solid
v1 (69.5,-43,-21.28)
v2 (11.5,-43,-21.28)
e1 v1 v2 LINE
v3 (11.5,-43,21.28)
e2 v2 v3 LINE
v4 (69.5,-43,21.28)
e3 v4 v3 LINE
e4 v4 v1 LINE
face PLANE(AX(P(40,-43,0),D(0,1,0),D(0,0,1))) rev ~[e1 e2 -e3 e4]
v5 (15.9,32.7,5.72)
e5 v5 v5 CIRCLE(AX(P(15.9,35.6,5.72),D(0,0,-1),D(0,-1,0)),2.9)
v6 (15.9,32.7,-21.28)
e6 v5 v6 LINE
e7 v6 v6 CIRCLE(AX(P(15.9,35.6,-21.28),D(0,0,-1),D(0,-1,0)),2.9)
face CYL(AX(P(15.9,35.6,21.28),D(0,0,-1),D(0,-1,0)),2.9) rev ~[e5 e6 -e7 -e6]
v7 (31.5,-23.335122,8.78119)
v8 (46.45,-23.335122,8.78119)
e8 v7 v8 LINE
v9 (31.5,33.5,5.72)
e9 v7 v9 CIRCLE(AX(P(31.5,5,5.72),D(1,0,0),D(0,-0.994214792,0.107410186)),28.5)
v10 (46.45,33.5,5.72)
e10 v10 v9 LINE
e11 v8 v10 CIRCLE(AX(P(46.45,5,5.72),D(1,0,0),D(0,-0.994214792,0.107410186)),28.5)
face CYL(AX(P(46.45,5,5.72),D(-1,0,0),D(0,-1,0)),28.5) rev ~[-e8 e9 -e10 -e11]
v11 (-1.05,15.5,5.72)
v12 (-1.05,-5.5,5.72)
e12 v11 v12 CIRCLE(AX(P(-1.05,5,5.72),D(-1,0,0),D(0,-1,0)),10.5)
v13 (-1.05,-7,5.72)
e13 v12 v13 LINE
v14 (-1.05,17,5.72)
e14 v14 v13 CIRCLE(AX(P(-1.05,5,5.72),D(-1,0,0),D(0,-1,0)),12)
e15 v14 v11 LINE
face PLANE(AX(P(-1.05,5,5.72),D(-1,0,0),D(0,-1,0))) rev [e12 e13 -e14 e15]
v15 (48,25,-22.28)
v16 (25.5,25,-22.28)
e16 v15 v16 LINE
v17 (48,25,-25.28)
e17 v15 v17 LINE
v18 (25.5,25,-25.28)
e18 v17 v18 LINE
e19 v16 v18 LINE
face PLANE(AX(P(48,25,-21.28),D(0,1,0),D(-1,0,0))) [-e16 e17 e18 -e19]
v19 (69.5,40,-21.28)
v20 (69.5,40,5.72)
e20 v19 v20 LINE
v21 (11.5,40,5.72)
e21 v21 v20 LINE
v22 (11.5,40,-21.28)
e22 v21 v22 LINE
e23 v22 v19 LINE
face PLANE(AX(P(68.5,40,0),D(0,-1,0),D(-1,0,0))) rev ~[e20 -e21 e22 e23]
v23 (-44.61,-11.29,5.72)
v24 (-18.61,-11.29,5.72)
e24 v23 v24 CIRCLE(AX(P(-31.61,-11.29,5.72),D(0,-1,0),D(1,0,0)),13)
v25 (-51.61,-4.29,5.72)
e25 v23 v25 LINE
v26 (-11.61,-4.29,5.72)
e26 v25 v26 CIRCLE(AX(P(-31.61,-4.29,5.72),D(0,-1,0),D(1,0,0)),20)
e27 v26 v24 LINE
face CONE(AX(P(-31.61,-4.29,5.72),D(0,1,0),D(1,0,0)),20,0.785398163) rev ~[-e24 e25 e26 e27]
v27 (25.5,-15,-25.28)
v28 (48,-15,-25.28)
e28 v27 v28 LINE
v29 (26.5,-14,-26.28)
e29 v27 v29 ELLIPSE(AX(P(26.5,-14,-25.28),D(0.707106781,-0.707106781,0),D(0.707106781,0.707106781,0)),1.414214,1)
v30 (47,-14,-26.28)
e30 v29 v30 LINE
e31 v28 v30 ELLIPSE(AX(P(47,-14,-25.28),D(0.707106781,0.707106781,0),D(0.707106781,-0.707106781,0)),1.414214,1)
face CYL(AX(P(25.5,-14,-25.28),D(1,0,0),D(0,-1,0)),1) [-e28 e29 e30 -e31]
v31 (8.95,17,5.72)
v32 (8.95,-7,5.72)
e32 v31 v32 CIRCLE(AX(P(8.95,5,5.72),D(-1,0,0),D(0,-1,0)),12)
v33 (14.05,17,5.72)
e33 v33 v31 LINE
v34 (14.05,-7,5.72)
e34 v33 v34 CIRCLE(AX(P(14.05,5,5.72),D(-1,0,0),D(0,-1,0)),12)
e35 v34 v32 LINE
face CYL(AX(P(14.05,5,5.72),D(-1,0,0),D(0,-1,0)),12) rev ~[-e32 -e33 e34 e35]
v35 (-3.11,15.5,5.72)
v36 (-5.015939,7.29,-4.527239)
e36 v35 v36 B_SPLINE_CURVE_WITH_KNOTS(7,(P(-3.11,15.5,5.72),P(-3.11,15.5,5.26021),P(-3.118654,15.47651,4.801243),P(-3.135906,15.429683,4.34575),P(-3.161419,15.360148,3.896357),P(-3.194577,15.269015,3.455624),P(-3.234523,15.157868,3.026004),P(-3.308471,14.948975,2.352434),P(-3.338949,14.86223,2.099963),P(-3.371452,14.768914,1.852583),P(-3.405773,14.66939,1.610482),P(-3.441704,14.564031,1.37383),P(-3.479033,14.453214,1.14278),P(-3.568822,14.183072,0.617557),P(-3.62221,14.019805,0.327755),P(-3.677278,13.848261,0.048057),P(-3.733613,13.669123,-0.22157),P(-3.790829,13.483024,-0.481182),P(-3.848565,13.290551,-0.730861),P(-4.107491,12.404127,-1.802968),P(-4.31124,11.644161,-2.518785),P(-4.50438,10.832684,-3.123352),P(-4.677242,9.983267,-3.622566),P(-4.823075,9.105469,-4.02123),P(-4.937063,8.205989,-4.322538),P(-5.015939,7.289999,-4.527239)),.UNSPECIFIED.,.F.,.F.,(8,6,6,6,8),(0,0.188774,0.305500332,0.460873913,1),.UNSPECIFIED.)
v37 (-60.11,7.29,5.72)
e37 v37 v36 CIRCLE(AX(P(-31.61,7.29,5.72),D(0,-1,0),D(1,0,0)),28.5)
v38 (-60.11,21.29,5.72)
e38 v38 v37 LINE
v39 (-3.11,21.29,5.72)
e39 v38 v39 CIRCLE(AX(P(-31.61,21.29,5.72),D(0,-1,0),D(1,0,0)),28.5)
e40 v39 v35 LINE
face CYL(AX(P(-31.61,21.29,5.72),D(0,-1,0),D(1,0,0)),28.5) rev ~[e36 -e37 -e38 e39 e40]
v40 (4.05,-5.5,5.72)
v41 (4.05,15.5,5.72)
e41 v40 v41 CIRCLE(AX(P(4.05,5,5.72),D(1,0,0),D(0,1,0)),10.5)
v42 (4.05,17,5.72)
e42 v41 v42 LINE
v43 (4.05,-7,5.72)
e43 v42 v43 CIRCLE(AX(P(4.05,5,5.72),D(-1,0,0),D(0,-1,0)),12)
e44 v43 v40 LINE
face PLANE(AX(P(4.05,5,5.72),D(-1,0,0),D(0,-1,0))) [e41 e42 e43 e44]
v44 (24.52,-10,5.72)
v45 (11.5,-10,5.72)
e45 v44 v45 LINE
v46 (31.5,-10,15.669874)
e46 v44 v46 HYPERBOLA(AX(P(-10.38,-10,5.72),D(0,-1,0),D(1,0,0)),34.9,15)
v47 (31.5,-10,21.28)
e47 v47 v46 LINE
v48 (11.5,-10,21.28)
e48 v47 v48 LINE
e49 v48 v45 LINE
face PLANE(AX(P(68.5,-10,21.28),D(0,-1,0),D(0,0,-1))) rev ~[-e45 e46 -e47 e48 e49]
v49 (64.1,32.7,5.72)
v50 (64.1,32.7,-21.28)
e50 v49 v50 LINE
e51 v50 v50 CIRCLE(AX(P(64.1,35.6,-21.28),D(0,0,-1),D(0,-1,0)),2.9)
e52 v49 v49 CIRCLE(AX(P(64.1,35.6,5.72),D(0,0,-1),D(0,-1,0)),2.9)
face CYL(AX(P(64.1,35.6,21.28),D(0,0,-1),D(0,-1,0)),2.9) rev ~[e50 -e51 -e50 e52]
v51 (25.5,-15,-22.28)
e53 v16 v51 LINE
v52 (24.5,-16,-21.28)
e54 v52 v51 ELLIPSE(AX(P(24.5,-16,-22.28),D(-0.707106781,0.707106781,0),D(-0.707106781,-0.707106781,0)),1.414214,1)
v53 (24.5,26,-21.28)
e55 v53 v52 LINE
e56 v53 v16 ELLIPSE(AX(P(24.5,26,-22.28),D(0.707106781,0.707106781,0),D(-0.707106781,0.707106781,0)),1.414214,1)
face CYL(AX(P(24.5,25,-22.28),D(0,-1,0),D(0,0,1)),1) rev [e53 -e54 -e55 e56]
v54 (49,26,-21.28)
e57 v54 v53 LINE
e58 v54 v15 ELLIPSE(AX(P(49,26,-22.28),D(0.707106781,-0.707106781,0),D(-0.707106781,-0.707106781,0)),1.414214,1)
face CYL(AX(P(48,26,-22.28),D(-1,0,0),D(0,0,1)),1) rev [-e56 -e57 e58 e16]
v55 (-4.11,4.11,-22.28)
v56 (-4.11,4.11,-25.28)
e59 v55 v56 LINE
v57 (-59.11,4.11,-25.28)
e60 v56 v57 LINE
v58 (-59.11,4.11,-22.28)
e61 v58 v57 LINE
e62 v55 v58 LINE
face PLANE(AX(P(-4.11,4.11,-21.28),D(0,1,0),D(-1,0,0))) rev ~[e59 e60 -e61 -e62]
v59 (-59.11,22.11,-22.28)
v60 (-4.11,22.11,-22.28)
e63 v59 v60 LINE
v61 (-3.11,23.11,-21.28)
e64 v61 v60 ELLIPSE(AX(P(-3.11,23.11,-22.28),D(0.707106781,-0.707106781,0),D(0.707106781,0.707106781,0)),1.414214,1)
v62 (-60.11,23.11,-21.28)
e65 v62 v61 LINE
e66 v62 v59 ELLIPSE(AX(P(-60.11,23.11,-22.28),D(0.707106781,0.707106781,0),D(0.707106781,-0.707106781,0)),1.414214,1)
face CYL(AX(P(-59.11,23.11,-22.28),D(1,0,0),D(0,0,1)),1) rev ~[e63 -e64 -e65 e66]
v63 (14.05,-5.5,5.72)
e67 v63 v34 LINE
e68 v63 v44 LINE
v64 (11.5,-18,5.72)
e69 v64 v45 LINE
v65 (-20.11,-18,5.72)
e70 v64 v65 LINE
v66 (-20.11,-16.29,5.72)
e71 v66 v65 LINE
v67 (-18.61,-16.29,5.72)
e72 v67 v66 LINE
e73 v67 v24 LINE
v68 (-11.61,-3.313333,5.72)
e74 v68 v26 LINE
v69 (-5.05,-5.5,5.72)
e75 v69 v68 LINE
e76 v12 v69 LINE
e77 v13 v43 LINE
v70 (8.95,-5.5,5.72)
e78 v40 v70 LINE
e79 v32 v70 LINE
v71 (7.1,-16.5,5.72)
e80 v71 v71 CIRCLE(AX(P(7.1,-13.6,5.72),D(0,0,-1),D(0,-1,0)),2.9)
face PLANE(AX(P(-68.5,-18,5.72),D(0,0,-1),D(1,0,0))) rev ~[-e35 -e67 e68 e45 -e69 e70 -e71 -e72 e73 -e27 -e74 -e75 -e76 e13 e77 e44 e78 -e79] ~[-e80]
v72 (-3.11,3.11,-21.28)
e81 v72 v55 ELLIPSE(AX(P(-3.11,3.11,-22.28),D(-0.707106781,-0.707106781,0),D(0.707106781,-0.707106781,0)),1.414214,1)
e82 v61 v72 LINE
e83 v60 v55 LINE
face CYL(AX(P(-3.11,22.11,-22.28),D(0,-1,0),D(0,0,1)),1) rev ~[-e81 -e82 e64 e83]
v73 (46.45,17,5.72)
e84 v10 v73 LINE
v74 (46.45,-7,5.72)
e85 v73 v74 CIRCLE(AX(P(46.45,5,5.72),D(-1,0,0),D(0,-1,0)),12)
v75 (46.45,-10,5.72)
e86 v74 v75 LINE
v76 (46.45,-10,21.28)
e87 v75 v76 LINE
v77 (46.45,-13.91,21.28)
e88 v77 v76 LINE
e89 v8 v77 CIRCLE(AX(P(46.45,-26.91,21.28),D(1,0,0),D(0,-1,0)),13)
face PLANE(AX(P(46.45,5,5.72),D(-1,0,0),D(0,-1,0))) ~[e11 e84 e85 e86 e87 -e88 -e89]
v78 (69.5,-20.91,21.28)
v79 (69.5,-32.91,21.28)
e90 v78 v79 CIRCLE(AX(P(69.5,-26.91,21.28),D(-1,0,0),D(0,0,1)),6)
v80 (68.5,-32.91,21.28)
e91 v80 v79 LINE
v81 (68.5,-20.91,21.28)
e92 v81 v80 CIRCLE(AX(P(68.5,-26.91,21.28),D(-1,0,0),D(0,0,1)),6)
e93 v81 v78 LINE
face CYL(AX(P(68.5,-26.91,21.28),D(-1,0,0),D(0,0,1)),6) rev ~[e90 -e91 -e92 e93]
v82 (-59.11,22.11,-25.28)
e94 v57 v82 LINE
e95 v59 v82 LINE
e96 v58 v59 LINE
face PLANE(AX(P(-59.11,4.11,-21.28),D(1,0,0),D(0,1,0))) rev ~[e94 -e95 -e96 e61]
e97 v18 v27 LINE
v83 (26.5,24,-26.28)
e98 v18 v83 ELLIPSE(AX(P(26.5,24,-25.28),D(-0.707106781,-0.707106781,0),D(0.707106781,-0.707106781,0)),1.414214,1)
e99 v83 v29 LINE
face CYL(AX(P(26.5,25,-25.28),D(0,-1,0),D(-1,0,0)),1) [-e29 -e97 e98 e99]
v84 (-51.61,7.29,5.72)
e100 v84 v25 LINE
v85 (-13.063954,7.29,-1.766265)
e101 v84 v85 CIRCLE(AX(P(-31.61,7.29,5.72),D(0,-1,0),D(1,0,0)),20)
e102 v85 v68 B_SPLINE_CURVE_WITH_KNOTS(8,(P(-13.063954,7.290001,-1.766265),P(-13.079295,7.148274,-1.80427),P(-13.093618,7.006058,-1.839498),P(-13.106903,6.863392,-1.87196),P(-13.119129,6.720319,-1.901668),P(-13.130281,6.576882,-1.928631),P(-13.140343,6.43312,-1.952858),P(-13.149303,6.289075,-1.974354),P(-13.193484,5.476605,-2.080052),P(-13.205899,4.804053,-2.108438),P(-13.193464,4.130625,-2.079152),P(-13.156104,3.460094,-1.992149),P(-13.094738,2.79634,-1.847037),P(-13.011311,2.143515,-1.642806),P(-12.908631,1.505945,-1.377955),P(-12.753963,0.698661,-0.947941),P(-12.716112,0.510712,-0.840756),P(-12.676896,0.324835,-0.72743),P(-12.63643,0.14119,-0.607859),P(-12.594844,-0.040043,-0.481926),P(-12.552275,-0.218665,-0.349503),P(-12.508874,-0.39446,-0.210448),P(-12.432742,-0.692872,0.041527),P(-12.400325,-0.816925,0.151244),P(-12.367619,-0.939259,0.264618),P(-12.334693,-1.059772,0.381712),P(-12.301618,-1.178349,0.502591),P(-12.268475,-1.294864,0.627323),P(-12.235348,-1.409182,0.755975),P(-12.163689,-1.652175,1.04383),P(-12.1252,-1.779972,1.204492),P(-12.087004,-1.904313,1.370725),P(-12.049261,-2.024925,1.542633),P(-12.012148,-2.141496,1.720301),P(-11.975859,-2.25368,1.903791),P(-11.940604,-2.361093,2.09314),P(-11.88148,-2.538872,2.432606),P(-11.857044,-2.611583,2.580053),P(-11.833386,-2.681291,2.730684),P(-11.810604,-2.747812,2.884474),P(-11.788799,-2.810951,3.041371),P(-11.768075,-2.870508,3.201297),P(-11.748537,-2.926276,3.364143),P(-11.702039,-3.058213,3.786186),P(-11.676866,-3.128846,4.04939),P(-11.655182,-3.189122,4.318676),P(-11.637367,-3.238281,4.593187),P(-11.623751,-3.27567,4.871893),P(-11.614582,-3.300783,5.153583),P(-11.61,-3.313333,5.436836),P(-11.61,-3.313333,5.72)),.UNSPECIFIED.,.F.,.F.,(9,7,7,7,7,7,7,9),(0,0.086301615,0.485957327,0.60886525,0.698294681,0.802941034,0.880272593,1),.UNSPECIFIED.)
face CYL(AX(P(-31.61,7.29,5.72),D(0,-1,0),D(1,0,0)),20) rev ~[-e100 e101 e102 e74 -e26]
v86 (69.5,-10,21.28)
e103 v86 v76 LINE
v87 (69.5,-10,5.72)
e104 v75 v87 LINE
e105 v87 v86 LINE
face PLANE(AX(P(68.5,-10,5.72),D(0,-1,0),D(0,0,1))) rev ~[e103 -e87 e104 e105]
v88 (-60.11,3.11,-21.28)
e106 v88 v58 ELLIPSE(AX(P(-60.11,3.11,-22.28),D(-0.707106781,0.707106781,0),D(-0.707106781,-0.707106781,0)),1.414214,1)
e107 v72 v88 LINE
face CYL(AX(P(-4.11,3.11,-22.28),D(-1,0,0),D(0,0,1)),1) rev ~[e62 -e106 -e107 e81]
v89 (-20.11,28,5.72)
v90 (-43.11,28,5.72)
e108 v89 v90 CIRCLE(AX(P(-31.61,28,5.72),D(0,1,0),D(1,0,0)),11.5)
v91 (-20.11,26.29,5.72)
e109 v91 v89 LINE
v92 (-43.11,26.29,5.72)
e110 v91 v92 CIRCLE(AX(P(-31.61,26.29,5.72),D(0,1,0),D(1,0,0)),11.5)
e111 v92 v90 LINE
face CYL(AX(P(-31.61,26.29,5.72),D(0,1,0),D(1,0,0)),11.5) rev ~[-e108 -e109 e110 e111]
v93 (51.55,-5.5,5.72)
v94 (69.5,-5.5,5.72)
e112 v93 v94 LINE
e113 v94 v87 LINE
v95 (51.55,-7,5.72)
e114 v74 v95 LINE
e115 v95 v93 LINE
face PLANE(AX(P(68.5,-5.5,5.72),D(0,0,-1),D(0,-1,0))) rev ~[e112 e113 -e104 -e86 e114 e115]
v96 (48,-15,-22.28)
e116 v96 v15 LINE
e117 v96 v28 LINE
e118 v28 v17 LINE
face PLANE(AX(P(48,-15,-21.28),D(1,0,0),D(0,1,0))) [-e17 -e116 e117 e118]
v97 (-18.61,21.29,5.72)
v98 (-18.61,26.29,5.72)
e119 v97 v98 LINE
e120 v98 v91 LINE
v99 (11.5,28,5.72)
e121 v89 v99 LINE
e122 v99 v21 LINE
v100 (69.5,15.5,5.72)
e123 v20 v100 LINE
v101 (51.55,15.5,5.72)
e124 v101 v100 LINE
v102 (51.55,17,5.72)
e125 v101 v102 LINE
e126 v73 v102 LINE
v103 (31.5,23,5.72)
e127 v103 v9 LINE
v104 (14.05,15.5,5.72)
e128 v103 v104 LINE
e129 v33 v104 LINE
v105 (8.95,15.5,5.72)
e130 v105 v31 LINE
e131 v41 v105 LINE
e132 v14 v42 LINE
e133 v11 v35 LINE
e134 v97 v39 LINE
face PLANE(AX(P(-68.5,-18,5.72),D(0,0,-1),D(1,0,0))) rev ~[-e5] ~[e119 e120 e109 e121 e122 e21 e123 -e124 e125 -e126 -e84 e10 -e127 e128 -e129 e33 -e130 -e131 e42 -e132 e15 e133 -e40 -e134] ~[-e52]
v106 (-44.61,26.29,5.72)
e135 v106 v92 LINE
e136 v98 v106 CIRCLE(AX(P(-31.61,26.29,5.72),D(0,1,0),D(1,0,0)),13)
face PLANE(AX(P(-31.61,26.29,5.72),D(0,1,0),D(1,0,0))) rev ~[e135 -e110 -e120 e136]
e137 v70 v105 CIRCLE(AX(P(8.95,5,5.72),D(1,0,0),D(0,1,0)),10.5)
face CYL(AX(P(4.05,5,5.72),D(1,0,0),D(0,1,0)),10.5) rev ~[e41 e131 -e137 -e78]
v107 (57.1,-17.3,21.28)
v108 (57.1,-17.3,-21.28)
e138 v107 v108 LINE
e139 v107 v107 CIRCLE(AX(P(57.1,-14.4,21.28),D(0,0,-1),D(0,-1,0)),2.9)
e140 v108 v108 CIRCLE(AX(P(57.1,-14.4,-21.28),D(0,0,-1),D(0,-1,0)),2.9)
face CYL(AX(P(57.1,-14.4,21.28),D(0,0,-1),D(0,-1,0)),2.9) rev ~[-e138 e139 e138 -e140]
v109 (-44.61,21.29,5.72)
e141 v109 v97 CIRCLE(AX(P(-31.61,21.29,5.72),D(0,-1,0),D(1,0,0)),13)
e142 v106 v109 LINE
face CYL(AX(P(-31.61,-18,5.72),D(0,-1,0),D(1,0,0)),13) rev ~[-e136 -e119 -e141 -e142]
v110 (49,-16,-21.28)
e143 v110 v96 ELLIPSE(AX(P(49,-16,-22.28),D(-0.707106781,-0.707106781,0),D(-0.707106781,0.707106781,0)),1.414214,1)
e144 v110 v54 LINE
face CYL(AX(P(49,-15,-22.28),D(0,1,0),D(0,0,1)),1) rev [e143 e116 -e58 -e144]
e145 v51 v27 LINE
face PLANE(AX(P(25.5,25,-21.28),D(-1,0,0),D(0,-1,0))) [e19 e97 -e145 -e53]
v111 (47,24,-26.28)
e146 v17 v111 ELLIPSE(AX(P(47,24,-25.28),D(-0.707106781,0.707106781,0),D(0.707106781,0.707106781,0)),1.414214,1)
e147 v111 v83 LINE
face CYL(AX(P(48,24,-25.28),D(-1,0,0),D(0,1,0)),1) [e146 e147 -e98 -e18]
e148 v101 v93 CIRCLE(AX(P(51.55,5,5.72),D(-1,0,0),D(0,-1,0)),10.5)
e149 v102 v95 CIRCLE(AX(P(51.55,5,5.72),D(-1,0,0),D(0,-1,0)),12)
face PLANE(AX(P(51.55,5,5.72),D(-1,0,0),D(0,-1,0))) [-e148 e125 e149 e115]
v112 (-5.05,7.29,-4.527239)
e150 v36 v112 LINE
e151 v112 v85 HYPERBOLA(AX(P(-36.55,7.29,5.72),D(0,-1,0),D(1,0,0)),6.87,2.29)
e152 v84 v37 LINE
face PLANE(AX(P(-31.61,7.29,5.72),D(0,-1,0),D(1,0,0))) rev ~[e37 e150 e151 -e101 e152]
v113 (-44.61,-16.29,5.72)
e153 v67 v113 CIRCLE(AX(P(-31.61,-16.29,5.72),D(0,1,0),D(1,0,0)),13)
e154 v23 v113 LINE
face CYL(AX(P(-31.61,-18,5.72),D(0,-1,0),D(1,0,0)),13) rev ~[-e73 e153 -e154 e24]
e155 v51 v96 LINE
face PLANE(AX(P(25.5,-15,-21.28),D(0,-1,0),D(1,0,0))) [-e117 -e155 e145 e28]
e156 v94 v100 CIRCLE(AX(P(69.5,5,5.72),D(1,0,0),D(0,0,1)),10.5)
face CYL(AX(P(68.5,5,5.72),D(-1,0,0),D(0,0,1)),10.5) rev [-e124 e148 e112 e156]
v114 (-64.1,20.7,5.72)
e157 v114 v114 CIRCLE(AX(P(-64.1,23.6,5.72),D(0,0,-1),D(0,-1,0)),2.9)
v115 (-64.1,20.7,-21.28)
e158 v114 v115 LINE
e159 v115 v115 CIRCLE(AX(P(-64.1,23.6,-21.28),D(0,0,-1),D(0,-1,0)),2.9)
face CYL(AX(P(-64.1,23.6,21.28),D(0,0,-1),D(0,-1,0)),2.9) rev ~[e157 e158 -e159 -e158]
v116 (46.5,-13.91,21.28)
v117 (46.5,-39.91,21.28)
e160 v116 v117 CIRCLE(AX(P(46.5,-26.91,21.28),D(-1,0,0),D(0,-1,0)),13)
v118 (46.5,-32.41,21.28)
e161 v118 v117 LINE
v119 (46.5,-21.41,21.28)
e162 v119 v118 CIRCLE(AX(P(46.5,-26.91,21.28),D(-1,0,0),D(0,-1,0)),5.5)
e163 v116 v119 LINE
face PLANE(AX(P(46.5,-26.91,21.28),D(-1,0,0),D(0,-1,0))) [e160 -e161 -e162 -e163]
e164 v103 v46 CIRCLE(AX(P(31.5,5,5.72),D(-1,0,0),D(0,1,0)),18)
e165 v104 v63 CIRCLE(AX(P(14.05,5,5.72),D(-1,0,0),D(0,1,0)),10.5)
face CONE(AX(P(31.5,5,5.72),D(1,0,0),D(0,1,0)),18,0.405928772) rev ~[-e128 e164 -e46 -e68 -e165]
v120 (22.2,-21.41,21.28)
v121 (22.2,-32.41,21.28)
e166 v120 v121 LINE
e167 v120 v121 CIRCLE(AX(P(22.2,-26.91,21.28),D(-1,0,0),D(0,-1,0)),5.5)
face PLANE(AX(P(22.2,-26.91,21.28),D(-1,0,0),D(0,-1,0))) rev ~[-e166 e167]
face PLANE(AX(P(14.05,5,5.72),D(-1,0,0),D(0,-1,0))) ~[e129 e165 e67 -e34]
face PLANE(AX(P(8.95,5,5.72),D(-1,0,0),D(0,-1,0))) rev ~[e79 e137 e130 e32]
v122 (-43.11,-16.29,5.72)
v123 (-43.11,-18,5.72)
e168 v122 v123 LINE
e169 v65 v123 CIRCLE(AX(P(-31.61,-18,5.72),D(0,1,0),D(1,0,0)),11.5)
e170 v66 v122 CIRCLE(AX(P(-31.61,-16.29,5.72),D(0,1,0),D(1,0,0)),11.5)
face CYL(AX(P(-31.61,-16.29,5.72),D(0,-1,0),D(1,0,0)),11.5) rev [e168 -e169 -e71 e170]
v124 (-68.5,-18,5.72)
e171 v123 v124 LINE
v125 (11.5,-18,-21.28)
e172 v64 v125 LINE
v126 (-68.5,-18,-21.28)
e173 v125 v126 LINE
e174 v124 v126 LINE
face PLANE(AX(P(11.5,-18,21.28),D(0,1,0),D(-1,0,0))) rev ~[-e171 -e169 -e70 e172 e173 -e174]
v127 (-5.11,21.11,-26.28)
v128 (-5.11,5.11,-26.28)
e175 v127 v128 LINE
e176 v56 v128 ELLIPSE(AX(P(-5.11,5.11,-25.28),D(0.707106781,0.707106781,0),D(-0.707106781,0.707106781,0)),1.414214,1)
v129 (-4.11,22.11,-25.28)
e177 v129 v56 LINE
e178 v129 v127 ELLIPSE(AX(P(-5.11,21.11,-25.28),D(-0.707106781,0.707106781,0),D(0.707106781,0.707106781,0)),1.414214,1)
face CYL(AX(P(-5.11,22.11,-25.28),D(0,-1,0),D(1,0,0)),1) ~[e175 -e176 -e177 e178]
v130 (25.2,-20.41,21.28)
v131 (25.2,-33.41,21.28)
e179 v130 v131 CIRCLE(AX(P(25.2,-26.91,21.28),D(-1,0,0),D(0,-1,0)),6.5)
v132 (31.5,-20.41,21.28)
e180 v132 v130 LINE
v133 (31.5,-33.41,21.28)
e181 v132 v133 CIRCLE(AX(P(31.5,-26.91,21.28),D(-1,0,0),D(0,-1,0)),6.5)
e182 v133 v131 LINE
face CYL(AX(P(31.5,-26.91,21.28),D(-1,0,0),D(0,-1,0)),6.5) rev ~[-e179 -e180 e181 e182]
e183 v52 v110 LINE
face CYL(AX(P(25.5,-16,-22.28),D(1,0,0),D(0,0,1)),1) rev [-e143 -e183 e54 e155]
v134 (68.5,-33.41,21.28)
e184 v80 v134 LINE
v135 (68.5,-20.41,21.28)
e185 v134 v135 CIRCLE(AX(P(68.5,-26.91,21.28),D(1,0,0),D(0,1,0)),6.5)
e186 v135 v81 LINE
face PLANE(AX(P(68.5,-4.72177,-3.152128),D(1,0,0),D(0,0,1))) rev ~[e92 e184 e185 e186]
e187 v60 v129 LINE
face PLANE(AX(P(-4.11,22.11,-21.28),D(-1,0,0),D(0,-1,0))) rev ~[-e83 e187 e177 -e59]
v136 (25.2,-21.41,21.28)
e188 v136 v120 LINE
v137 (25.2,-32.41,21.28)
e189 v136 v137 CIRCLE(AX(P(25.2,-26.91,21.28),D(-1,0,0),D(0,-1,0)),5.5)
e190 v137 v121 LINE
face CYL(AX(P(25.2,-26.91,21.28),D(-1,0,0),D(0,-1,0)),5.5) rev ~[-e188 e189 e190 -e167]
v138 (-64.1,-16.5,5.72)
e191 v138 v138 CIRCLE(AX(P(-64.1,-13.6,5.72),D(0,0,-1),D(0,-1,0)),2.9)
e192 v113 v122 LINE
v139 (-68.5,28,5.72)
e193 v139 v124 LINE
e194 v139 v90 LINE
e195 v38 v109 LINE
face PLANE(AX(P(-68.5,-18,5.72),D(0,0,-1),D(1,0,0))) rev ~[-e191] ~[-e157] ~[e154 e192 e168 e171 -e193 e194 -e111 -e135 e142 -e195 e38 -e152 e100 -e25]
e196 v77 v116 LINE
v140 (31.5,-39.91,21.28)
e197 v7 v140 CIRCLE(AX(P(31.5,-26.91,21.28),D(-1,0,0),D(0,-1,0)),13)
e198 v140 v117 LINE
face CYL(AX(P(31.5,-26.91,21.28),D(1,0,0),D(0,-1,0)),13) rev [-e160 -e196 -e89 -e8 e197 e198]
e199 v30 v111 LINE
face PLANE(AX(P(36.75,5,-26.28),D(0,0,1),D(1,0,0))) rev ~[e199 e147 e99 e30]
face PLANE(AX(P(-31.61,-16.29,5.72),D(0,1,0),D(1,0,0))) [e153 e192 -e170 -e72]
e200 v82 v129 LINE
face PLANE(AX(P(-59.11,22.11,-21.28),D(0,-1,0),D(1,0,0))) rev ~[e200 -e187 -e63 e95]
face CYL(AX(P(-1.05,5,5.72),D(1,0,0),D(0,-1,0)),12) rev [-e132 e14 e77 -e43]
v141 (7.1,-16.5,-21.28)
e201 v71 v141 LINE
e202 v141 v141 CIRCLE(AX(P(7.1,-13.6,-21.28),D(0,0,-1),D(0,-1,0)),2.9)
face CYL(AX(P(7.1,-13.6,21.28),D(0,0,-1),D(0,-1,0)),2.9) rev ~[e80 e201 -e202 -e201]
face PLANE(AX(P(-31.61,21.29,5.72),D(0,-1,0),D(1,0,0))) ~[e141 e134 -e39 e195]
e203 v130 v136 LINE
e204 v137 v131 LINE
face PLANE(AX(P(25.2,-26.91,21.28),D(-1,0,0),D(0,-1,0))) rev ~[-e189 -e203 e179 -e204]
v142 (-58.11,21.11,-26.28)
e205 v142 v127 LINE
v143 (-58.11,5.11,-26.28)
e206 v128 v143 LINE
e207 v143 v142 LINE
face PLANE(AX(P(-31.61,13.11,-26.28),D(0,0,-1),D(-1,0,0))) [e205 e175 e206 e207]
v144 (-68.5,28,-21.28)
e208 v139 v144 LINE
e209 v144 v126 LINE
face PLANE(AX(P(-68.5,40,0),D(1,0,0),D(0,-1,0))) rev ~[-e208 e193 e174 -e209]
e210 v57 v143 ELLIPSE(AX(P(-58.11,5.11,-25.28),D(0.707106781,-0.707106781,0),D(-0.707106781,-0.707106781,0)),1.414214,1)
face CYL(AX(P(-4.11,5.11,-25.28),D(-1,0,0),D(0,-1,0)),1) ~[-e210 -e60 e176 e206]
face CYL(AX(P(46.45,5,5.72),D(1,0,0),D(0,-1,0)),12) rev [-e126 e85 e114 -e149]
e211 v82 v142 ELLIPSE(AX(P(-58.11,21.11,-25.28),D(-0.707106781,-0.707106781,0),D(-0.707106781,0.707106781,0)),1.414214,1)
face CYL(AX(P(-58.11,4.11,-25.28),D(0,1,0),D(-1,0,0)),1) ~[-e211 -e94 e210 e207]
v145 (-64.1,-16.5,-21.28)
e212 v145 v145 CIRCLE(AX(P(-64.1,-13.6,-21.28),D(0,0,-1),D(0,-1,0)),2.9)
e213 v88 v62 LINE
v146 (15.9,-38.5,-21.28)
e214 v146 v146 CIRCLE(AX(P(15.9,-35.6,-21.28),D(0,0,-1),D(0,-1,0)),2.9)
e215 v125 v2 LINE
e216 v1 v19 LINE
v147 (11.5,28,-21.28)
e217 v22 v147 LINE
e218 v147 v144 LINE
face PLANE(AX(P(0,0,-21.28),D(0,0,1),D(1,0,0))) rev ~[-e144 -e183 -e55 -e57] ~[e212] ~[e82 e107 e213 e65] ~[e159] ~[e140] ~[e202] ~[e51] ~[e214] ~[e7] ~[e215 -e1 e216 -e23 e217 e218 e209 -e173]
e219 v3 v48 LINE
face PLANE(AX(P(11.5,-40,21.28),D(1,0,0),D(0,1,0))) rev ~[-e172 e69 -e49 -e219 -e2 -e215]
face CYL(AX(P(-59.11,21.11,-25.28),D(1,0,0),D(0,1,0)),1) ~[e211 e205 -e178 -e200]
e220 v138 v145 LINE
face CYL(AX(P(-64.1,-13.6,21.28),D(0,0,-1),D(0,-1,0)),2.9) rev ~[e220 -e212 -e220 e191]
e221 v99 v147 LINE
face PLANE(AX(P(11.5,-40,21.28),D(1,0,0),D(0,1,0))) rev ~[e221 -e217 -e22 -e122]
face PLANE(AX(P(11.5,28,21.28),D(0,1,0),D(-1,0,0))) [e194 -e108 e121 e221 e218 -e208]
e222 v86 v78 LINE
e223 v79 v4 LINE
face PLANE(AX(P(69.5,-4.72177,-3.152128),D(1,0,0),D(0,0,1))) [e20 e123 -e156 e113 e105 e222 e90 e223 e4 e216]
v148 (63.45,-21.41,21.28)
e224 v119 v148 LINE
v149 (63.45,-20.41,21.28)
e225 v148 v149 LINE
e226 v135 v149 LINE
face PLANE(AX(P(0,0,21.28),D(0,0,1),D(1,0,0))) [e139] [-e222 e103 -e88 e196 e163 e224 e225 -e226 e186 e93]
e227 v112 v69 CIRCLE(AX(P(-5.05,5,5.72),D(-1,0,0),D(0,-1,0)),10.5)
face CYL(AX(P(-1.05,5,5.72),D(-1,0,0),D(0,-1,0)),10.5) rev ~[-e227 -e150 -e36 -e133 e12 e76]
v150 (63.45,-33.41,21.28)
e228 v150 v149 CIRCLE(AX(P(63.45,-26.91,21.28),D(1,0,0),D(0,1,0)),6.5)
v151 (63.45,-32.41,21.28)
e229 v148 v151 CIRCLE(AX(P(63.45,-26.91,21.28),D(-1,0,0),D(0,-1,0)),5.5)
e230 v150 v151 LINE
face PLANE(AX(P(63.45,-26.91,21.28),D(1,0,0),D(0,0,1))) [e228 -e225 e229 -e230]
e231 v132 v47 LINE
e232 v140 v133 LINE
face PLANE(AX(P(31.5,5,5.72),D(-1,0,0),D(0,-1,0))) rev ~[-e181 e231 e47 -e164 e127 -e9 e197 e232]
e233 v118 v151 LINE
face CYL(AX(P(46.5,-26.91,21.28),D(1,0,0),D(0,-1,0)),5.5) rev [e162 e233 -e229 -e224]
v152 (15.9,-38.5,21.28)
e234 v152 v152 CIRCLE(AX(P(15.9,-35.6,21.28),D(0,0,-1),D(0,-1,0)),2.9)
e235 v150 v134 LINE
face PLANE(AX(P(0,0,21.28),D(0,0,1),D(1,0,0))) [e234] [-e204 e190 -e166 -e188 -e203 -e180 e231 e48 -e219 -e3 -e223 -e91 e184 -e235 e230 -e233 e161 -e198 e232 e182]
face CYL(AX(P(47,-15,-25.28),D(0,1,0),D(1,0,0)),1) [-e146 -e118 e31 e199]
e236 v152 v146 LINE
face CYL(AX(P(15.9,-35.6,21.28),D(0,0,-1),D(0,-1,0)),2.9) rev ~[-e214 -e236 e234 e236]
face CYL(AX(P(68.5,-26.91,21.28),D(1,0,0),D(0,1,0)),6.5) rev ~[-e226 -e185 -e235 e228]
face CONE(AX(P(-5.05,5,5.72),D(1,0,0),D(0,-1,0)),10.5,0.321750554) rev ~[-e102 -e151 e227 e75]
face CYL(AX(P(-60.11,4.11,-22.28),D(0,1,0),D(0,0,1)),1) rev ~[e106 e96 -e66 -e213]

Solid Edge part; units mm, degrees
sketch "Sketch1" plane through (0, 0, 0) normal (0, 0, 1) x (1, 0, 0)
  line L0 (-68.5, -40) -> (68.5, -40)
  line L1 (68.5, -40) -> (68.5, 40)
  line L2 (68.5, 40) -> (-68.5, 40)
  line L3 (-68.5, 40) -> (-68.5, -40)
  dimension "D1" = 137
  dimension "D2" = 80
extrude "Extrusionsausprägung_1" add sketch "Sketch1" along normal mid plane 42.56
sketch "Sketch2" plane through (0, 0, 21.28) normal (0, 0, 1) x (1, 0, 0)
  line L0 (-68.5, -40) -> (11.5, -40)
  line L1 (11.5, -40) -> (11.5, -18)
  line L2 (11.5, -18) -> (-68.5, -18)
  line L3 (-68.5, -18) -> (-68.5, -40)
  dimension "D1" = 80
  dimension "D2" = 22
extrude "Extrusionsausschnitt_1" cut sketch "Sketch2" against normal blind 56
sketch "Sketch3" plane through (0, 0, 21.28) normal (0, 0, 1) x (1, 0, 0)
  line L0 (-68.5, 40) -> (11.5, 40)
  line L1 (11.5, 40) -> (11.5, 28)
  line L2 (11.5, 28) -> (-68.5, 28)
  line L3 (-68.5, 28) -> (-68.5, 40)
  dimension "D1" = 12
  dimension "D2" = 80
extrude "Extrusionsausschnitt_2" cut sketch "Sketch3" against normal blind 112
sketch "Sketch4" plane through (-27.5, -18, 0) normal (0, -1, 0) x (1, 0, 0)
  line L0 (-41, 5.72) -> (39, 5.72)
  line L1 (39, 5.72) -> (39, 27.4762)
  dimension "D1" = 27
extrude "Extrusionsausschnitt_3" cut sketch "Sketch4" against normal blind 100 material side at (-28.5, -18, 5.77)
sketch "Sketch5" plane through (40, -40, 0) normal (0, -1, 0) x (1, 0, 0)
  line L0 (-28.5, 21.28) -> (28.5, 21.28)
  line L1 (28.5, 21.28) -> (28.5, -21.28)
  line L2 (28.5, -21.28) -> (-28.5, -21.28)
  line L3 (-28.5, -21.28) -> (-28.5, 21.28)
  dimension "D1" = 57
  dimension "D2" = 42.56
extrude "Extrusionsausprägung_11" add sketch "Sketch5" along normal blind 3
sketch "Sketch6" plane through (68.5, 0, 0) normal (1, 0, 0) x (0, 1, 0)
  line L0 (40, 21.28) -> (-10, 21.28)
  line L1 (-10, 21.28) -> (-10, 5.72)
  line L2 (-10, 5.72) -> (40, 5.72)
  line L3 (40, 5.72) -> (40, 21.28)
  dimension "D1" = 30
  dimension "D2" = 27
extrude "Extrusionsausschnitt_4" cut sketch "Sketch6" against normal blind 304
hole "Bohrung_1" at (-64.1, 23.6, 21.28) direction (0, 0, -1) diameter 5.8 depth 50.8
hole "Hole1" at (-64.1, -13.6, 21.28) direction (0, 0, -1) diameter 5.8 depth 50.8
hole "Hole2" at (7.1, -13.6, 21.28) direction (0, 0, -1) diameter 5.8 depth 50.8
hole "Hole3" at (15.9, 35.6, 21.28) direction (0, 0, -1) diameter 5.8 depth 50.8
hole "Hole4" at (15.9, -35.6, 21.28) direction (0, 0, -1) diameter 5.8 depth 50.8
hole "Hole5" at (57.1, -14.4, 21.28) direction (0, 0, -1) diameter 5.8 depth 50.8
hole "Hole6" at (64.1, 35.6, 21.28) direction (0, 0, -1) diameter 5.8 depth 50.8
sketch "Sketch7" plane through (-27.5, -18, -7.78) normal (0, -1, 0) x (1, 0, 0)
  circle A0 centre (-4.11, 13.5) radius 13
  dimension "D1" = 36.89
  dimension "D2" = 26
extrude "Extrusionsausschnitt_8" cut sketch "Sketch7" against normal blind 60
sketch "Sketch8" plane through (68.5, 0, 0) normal (1, 0, 0) x (0, 1, 0)
  circle A0 centre (-26.91, 21.28) radius 6.5
  dimension "D1" = 13.09
  dimension "D2" = 13
extrude "Extrusionsausschnitt_9" cut sketch "Sketch8" against normal blind 5.05
sketch "Sketch9" plane through (68.5, 0, 0) normal (1, 0, 0) x (0, 0, -1)
  circle A0 centre (-5.72, 5) radius 10.5
  dimension "D1" = 21
  dimension "D2" = 35
extrude "Extrusionsausschnitt_11" cut sketch "Sketch9" against normal blind 8
sketch "Sketch10" plane through (0, 0, -21.28) normal (0, 0, -1) x (1, 0, 0)
  line L0 (25.5, 15) -> (48, 15)
  line L1 (48, 15) -> (48, -25)
  line L2 (48, -25) -> (25.5, -25)
  line L3 (25.5, -25) -> (25.5, 15)
  dimension "D1" = 22.5
  dimension "D2" = 40
  dimension "D3" = 31.75
  dimension "D4" = 35
extrude "Extrusionsausprägung_8" add sketch "Sketch10" along normal blind 5
fillet "Verrundung_7" radius 1 8 edges at (36.75, 25, -21.28) (25.5, 5, -21.28) (48, 5, -21.28) (36.75, -15, -21.28) (36.75, -15, -26.28) (48, 5, -26.28) (25.5, 5, -26.28) (36.75, 25, -26.28)
sketch "Sketch11" plane through (0, 0, -21.28) normal (0, 0, -1) x (1, 0, 0)
  line L0 (-59.11, -22.11) -> (-4.11, -22.11)
  line L1 (-4.11, -22.11) -> (-4.11, -4.11)
  line L2 (-4.11, -4.11) -> (-59.11, -4.11)
  line L3 (-59.11, -4.11) -> (-59.11, -22.11)
  dimension "D1" = 55
  dimension "D2" = 18
  dimension "D3" = 5.89
  dimension "D4" = 9.39
extrude "Extrusionsausprägung_10" add sketch "Sketch11" along normal blind 5
fillet "Verrundung_14" radius 1 8 edges at (-31.61, 22.11, -21.28) (-4.11, 13.11, -21.28) (-31.61, 4.11, -21.28) (-59.11, 13.11, -21.28) (-31.61, 4.11, -26.28) (-59.11, 13.11, -26.28) (-31.61, 22.11, -26.28) (-4.11, 13.11, -26.28)
sketch "Sketch12" plane through (-55.555, 5, 5.72) normal (0, 0, 1) x (0, -1, 0)
  line L0 (-23, 36.945) -> (-21.29, 36.945)
  line L1 (-21.29, 36.945) -> (-21.29, 35.445)
  line L2 (-21.29, 35.445) -> (-23, 35.445)
  line L3 (-23, 35.445) -> (-23, 36.945)
  line L4 (23, 36.945) -> (21.29, 36.945)
  line L5 (21.29, 36.945) -> (21.29, 35.445)
  line L6 (21.29, 35.445) -> (23, 35.445)
  line L7 (23, 35.445) -> (23, 36.945)
  dimension "D1" = 42.58
revolve "Rotationsausprägung_1" add sketch "Sketch12" angle 180 about axis through (-31.61, 37.0953, 5.72) along (0, 1, 0)
sketch "Sketch13" plane through (22.945, 11, 5.72) normal (0, 0, 1) x (0, -1, 0)
  line L0 (-10.29, -41.555) -> (-10.29, -26.055)
  line L1 (-10.29, -26.055) -> (3.71, -26.055)
  line L2 (3.71, -26.055) -> (3.71, -34.555)
  line L3 (3.71, -34.555) -> (15.29, -34.555)
  line L4 (15.29, -34.555) -> (22.29, -41.555)
  line L5 (-10.29, -41.555) -> (22.29, -41.555)
  dimension "D1" = 5
  dimension "D2" = 14
  dimension "D3" = 5
revolve "RevolvedCutout1" cut sketch "Sketch13" angle 360 about axis through (-31.61, 30.9909, 5.72) along (0, -1, 0)
sketch "Sketch14" plane through (40, -26.5, 21.28) normal (0, 0, 1) x (-1, 0, 0)
  line L0 (8.5, 0.41) -> (8.5, 6.91)
  line L1 (8.5, 6.91) -> (14.8, 6.91)
  line L2 (14.8, 6.91) -> (14.8, 5.91)
  line L3 (14.8, 5.91) -> (17.8, 5.91)
  line L4 (17.8, 5.91) -> (17.8, 0.41)
  line L5 (8.5, 0.41) -> (17.8, 0.41)
  dimension "D1" = 6.3
  dimension "D2" = 43.3
  dimension "D3" = 3
revolve "RevolvedCutout2" cut sketch "Sketch14" angle 360 about axis through (69.0678, -26.91, 21.28) along (-1, 0, 0)
sketch "Sketch15" plane through (40, -26.5, 21.28) normal (0, 0, 1) x (-1, 0, 0)
  line L0 (8.5, 0.41) -> (8.5, 13.41)
  line L1 (8.5, 13.41) -> (-6.5, 13.41)
  line L2 (-6.5, 13.41) -> (-6.5, 5.91)
  line L3 (-6.5, 5.91) -> (-23.45, 5.91)
  line L4 (-23.45, 5.91) -> (-23.45, 0.41)
  line L5 (-23.45, 0.41) -> (8.5, 0.41)
  dimension "D1" = 15
revolve "RevolvedCutout3" cut sketch "Sketch15" angle 360 about axis through (69.1887, -26.91, 21.28) along (-1, 0, 0)
sketch "Sketch16" plane through (24.195, 11, 5.72) normal (0, 0, 1) x (-1, 0, 0)
  line L0 (-27.355, 6) -> (-22.255, 6)
  line L1 (-22.255, 6) -> (-22.255, 18)
  line L2 (-22.255, 18) -> (-27.355, 18)
  line L3 (-27.355, 18) -> (-27.355, 6)
  dimension "D1" = 5.1
  dimension "D2" = 19.5
revolve "RevolvedCutout4" cut sketch "Sketch16" angle 360 about axis through (69.5338, 5, 5.72) along (-1, 0, 0)
sketch "Sketch17" plane through (24.195, 11, 5.72) normal (0, 0, 1) x (-1, 0, 0)
  line L0 (-22.255, 6) -> (-22.255, 34.5)
  line L1 (-22.255, 34.5) -> (-7.305, 34.5)
  line L2 (-7.305, 34.5) -> (-7.305, 6)
  line L3 (-7.305, 6) -> (-22.255, 6)
  dimension "D1" = 14.95
revolve "RevolvedCutout5" cut sketch "Sketch17" angle 360 about axis through (68.5, 5, 5.72) along (-1, 0, 0)
sketch "Sketch18" plane through (24.195, 11, 5.72) normal (0, 0, 1) x (-1, 0, 0)
  line L0 (10.145, 6) -> (10.145, 18)
  line L1 (10.145, 18) -> (15.245, 18)
  line L2 (15.245, 18) -> (15.245, 6)
  line L3 (15.245, 6) -> (10.145, 6)
  dimension "D1" = 5.1
  dimension "D2" = 57
revolve "RevolvedCutout6" cut sketch "Sketch18" angle 360 about axis through (68.5, 5, 5.72) along (-1, 0, 0)
sketch "Sketch19" plane through (24.195, 11, 5.72) normal (0, 0, 1) x (-1, 0, 0)
  line L0 (20.145, 6) -> (25.245, 6)
  line L1 (25.245, 6) -> (25.245, 18)
  line L2 (25.245, 18) -> (20.145, 18)
  line L3 (20.145, 18) -> (20.145, 6)
  dimension "D1" = 5.1
  dimension "D2" = 10
revolve "RevolvedCutout7" cut sketch "Sketch19" angle 360 about axis through (68.5, 5, 5.72) along (-1, 0, 0)
sketch "Sketch20" plane through (24.195, 11, 5.72) normal (0, 0, 1) x (-1, 0, 0)
  line L0 (-27.355, 6) -> (-27.355, 16.5)
  line L1 (-27.355, 16.5) -> (-36.305, 16.5)
  line L2 (-36.305, 16.5) -> (-36.305, 6)
  line L3 (-36.305, 6) -> (-27.355, 6)
revolve "RevolvedCutout8" cut sketch "Sketch20" angle 360 about axis through (68.5, 5, 5.72) along (-1, 0, 0)
sketch "Sketch21" plane through (24.195, 11, 5.72) normal (0, 0, 1) x (-1, 0, 0)
  line L0 (-7.305, 6) -> (-7.305, -12)
  line L1 (-7.305, -12) -> (10.145, -4.5)
  line L2 (10.145, -4.5) -> (10.145, 6)
  line L3 (10.145, 6) -> (-7.305, 6)
revolve "RevolvedCutout9" cut sketch "Sketch21" angle 360 about axis through (68.5, 5, 5.72) along (-1, 0, 0)
sketch "Sketch22" plane through (24.195, 11, 5.72) normal (0, 0, 1) x (-1, 0, 0)
  line L0 (15.245, 6) -> (20.145, 6)
  line L1 (20.145, 6) -> (20.145, -4.5)
  line L2 (20.145, -4.5) -> (15.245, -4.5)
  line L3 (15.245, -4.5) -> (15.245, 6)
revolve "RevolvedCutout10" cut sketch "Sketch22" angle 360 about axis through (-1.05, 5, 5.72) along (1, 0, 0)
sketch "Sketch23" plane through (24.195, 11, 5.72) normal (0, 0, 1) x (-1, 0, 0)
  line L0 (25.245, 16.5) -> (29.245, 16.5)
  line L1 (29.245, 16.5) -> (38.245, 13.5)
  line L2 (38.245, 13.5) -> (38.245, 6)
  line L3 (38.245, 6) -> (25.245, 6)
  line L4 (25.245, 6) -> (25.245, 16.5)
  dimension "D1" = 13
  dimension "D2" = 4
revolve "RevolvedCutout11" cut sketch "Sketch23" angle 360 about axis through (14.05, 5, 5.72) along (-1, 0, 0)
sketch "Sketch24" plane through (68.5, -1.5, 0) normal (1, 0, 0) x (0, 0, 1)
  line L0 (21.28, 31.41) -> (21.28, 41.5)
  line L1 (21.28, 41.5) -> (-21.28, 41.5)
  line L2 (-21.28, 41.5) -> (-21.28, -41.5)
  line L3 (-21.28, -41.5) -> (5.72, -41.5)
  line L4 (5.72, -41.5) -> (5.72, -17)
  line L5 (5.72, 4) -> (5.72, 8.5)
  line L6 (5.72, 8.5) -> (21.28, 8.5)
  line L7 (21.28, 8.5) -> (21.28, 19.41)
  arc A0 (5.72, 4) -> (5.72, -17) centre (5.72, -6.5) ccw
  arc A1 (21.28, 19.41) -> (21.28, 31.41) centre (21.28, 25.41) cw
extrude "Extrusionsausprägung_13" add sketch "Sketch24" along normal blind 1
properties part number "2" material "Polykarbonat"
